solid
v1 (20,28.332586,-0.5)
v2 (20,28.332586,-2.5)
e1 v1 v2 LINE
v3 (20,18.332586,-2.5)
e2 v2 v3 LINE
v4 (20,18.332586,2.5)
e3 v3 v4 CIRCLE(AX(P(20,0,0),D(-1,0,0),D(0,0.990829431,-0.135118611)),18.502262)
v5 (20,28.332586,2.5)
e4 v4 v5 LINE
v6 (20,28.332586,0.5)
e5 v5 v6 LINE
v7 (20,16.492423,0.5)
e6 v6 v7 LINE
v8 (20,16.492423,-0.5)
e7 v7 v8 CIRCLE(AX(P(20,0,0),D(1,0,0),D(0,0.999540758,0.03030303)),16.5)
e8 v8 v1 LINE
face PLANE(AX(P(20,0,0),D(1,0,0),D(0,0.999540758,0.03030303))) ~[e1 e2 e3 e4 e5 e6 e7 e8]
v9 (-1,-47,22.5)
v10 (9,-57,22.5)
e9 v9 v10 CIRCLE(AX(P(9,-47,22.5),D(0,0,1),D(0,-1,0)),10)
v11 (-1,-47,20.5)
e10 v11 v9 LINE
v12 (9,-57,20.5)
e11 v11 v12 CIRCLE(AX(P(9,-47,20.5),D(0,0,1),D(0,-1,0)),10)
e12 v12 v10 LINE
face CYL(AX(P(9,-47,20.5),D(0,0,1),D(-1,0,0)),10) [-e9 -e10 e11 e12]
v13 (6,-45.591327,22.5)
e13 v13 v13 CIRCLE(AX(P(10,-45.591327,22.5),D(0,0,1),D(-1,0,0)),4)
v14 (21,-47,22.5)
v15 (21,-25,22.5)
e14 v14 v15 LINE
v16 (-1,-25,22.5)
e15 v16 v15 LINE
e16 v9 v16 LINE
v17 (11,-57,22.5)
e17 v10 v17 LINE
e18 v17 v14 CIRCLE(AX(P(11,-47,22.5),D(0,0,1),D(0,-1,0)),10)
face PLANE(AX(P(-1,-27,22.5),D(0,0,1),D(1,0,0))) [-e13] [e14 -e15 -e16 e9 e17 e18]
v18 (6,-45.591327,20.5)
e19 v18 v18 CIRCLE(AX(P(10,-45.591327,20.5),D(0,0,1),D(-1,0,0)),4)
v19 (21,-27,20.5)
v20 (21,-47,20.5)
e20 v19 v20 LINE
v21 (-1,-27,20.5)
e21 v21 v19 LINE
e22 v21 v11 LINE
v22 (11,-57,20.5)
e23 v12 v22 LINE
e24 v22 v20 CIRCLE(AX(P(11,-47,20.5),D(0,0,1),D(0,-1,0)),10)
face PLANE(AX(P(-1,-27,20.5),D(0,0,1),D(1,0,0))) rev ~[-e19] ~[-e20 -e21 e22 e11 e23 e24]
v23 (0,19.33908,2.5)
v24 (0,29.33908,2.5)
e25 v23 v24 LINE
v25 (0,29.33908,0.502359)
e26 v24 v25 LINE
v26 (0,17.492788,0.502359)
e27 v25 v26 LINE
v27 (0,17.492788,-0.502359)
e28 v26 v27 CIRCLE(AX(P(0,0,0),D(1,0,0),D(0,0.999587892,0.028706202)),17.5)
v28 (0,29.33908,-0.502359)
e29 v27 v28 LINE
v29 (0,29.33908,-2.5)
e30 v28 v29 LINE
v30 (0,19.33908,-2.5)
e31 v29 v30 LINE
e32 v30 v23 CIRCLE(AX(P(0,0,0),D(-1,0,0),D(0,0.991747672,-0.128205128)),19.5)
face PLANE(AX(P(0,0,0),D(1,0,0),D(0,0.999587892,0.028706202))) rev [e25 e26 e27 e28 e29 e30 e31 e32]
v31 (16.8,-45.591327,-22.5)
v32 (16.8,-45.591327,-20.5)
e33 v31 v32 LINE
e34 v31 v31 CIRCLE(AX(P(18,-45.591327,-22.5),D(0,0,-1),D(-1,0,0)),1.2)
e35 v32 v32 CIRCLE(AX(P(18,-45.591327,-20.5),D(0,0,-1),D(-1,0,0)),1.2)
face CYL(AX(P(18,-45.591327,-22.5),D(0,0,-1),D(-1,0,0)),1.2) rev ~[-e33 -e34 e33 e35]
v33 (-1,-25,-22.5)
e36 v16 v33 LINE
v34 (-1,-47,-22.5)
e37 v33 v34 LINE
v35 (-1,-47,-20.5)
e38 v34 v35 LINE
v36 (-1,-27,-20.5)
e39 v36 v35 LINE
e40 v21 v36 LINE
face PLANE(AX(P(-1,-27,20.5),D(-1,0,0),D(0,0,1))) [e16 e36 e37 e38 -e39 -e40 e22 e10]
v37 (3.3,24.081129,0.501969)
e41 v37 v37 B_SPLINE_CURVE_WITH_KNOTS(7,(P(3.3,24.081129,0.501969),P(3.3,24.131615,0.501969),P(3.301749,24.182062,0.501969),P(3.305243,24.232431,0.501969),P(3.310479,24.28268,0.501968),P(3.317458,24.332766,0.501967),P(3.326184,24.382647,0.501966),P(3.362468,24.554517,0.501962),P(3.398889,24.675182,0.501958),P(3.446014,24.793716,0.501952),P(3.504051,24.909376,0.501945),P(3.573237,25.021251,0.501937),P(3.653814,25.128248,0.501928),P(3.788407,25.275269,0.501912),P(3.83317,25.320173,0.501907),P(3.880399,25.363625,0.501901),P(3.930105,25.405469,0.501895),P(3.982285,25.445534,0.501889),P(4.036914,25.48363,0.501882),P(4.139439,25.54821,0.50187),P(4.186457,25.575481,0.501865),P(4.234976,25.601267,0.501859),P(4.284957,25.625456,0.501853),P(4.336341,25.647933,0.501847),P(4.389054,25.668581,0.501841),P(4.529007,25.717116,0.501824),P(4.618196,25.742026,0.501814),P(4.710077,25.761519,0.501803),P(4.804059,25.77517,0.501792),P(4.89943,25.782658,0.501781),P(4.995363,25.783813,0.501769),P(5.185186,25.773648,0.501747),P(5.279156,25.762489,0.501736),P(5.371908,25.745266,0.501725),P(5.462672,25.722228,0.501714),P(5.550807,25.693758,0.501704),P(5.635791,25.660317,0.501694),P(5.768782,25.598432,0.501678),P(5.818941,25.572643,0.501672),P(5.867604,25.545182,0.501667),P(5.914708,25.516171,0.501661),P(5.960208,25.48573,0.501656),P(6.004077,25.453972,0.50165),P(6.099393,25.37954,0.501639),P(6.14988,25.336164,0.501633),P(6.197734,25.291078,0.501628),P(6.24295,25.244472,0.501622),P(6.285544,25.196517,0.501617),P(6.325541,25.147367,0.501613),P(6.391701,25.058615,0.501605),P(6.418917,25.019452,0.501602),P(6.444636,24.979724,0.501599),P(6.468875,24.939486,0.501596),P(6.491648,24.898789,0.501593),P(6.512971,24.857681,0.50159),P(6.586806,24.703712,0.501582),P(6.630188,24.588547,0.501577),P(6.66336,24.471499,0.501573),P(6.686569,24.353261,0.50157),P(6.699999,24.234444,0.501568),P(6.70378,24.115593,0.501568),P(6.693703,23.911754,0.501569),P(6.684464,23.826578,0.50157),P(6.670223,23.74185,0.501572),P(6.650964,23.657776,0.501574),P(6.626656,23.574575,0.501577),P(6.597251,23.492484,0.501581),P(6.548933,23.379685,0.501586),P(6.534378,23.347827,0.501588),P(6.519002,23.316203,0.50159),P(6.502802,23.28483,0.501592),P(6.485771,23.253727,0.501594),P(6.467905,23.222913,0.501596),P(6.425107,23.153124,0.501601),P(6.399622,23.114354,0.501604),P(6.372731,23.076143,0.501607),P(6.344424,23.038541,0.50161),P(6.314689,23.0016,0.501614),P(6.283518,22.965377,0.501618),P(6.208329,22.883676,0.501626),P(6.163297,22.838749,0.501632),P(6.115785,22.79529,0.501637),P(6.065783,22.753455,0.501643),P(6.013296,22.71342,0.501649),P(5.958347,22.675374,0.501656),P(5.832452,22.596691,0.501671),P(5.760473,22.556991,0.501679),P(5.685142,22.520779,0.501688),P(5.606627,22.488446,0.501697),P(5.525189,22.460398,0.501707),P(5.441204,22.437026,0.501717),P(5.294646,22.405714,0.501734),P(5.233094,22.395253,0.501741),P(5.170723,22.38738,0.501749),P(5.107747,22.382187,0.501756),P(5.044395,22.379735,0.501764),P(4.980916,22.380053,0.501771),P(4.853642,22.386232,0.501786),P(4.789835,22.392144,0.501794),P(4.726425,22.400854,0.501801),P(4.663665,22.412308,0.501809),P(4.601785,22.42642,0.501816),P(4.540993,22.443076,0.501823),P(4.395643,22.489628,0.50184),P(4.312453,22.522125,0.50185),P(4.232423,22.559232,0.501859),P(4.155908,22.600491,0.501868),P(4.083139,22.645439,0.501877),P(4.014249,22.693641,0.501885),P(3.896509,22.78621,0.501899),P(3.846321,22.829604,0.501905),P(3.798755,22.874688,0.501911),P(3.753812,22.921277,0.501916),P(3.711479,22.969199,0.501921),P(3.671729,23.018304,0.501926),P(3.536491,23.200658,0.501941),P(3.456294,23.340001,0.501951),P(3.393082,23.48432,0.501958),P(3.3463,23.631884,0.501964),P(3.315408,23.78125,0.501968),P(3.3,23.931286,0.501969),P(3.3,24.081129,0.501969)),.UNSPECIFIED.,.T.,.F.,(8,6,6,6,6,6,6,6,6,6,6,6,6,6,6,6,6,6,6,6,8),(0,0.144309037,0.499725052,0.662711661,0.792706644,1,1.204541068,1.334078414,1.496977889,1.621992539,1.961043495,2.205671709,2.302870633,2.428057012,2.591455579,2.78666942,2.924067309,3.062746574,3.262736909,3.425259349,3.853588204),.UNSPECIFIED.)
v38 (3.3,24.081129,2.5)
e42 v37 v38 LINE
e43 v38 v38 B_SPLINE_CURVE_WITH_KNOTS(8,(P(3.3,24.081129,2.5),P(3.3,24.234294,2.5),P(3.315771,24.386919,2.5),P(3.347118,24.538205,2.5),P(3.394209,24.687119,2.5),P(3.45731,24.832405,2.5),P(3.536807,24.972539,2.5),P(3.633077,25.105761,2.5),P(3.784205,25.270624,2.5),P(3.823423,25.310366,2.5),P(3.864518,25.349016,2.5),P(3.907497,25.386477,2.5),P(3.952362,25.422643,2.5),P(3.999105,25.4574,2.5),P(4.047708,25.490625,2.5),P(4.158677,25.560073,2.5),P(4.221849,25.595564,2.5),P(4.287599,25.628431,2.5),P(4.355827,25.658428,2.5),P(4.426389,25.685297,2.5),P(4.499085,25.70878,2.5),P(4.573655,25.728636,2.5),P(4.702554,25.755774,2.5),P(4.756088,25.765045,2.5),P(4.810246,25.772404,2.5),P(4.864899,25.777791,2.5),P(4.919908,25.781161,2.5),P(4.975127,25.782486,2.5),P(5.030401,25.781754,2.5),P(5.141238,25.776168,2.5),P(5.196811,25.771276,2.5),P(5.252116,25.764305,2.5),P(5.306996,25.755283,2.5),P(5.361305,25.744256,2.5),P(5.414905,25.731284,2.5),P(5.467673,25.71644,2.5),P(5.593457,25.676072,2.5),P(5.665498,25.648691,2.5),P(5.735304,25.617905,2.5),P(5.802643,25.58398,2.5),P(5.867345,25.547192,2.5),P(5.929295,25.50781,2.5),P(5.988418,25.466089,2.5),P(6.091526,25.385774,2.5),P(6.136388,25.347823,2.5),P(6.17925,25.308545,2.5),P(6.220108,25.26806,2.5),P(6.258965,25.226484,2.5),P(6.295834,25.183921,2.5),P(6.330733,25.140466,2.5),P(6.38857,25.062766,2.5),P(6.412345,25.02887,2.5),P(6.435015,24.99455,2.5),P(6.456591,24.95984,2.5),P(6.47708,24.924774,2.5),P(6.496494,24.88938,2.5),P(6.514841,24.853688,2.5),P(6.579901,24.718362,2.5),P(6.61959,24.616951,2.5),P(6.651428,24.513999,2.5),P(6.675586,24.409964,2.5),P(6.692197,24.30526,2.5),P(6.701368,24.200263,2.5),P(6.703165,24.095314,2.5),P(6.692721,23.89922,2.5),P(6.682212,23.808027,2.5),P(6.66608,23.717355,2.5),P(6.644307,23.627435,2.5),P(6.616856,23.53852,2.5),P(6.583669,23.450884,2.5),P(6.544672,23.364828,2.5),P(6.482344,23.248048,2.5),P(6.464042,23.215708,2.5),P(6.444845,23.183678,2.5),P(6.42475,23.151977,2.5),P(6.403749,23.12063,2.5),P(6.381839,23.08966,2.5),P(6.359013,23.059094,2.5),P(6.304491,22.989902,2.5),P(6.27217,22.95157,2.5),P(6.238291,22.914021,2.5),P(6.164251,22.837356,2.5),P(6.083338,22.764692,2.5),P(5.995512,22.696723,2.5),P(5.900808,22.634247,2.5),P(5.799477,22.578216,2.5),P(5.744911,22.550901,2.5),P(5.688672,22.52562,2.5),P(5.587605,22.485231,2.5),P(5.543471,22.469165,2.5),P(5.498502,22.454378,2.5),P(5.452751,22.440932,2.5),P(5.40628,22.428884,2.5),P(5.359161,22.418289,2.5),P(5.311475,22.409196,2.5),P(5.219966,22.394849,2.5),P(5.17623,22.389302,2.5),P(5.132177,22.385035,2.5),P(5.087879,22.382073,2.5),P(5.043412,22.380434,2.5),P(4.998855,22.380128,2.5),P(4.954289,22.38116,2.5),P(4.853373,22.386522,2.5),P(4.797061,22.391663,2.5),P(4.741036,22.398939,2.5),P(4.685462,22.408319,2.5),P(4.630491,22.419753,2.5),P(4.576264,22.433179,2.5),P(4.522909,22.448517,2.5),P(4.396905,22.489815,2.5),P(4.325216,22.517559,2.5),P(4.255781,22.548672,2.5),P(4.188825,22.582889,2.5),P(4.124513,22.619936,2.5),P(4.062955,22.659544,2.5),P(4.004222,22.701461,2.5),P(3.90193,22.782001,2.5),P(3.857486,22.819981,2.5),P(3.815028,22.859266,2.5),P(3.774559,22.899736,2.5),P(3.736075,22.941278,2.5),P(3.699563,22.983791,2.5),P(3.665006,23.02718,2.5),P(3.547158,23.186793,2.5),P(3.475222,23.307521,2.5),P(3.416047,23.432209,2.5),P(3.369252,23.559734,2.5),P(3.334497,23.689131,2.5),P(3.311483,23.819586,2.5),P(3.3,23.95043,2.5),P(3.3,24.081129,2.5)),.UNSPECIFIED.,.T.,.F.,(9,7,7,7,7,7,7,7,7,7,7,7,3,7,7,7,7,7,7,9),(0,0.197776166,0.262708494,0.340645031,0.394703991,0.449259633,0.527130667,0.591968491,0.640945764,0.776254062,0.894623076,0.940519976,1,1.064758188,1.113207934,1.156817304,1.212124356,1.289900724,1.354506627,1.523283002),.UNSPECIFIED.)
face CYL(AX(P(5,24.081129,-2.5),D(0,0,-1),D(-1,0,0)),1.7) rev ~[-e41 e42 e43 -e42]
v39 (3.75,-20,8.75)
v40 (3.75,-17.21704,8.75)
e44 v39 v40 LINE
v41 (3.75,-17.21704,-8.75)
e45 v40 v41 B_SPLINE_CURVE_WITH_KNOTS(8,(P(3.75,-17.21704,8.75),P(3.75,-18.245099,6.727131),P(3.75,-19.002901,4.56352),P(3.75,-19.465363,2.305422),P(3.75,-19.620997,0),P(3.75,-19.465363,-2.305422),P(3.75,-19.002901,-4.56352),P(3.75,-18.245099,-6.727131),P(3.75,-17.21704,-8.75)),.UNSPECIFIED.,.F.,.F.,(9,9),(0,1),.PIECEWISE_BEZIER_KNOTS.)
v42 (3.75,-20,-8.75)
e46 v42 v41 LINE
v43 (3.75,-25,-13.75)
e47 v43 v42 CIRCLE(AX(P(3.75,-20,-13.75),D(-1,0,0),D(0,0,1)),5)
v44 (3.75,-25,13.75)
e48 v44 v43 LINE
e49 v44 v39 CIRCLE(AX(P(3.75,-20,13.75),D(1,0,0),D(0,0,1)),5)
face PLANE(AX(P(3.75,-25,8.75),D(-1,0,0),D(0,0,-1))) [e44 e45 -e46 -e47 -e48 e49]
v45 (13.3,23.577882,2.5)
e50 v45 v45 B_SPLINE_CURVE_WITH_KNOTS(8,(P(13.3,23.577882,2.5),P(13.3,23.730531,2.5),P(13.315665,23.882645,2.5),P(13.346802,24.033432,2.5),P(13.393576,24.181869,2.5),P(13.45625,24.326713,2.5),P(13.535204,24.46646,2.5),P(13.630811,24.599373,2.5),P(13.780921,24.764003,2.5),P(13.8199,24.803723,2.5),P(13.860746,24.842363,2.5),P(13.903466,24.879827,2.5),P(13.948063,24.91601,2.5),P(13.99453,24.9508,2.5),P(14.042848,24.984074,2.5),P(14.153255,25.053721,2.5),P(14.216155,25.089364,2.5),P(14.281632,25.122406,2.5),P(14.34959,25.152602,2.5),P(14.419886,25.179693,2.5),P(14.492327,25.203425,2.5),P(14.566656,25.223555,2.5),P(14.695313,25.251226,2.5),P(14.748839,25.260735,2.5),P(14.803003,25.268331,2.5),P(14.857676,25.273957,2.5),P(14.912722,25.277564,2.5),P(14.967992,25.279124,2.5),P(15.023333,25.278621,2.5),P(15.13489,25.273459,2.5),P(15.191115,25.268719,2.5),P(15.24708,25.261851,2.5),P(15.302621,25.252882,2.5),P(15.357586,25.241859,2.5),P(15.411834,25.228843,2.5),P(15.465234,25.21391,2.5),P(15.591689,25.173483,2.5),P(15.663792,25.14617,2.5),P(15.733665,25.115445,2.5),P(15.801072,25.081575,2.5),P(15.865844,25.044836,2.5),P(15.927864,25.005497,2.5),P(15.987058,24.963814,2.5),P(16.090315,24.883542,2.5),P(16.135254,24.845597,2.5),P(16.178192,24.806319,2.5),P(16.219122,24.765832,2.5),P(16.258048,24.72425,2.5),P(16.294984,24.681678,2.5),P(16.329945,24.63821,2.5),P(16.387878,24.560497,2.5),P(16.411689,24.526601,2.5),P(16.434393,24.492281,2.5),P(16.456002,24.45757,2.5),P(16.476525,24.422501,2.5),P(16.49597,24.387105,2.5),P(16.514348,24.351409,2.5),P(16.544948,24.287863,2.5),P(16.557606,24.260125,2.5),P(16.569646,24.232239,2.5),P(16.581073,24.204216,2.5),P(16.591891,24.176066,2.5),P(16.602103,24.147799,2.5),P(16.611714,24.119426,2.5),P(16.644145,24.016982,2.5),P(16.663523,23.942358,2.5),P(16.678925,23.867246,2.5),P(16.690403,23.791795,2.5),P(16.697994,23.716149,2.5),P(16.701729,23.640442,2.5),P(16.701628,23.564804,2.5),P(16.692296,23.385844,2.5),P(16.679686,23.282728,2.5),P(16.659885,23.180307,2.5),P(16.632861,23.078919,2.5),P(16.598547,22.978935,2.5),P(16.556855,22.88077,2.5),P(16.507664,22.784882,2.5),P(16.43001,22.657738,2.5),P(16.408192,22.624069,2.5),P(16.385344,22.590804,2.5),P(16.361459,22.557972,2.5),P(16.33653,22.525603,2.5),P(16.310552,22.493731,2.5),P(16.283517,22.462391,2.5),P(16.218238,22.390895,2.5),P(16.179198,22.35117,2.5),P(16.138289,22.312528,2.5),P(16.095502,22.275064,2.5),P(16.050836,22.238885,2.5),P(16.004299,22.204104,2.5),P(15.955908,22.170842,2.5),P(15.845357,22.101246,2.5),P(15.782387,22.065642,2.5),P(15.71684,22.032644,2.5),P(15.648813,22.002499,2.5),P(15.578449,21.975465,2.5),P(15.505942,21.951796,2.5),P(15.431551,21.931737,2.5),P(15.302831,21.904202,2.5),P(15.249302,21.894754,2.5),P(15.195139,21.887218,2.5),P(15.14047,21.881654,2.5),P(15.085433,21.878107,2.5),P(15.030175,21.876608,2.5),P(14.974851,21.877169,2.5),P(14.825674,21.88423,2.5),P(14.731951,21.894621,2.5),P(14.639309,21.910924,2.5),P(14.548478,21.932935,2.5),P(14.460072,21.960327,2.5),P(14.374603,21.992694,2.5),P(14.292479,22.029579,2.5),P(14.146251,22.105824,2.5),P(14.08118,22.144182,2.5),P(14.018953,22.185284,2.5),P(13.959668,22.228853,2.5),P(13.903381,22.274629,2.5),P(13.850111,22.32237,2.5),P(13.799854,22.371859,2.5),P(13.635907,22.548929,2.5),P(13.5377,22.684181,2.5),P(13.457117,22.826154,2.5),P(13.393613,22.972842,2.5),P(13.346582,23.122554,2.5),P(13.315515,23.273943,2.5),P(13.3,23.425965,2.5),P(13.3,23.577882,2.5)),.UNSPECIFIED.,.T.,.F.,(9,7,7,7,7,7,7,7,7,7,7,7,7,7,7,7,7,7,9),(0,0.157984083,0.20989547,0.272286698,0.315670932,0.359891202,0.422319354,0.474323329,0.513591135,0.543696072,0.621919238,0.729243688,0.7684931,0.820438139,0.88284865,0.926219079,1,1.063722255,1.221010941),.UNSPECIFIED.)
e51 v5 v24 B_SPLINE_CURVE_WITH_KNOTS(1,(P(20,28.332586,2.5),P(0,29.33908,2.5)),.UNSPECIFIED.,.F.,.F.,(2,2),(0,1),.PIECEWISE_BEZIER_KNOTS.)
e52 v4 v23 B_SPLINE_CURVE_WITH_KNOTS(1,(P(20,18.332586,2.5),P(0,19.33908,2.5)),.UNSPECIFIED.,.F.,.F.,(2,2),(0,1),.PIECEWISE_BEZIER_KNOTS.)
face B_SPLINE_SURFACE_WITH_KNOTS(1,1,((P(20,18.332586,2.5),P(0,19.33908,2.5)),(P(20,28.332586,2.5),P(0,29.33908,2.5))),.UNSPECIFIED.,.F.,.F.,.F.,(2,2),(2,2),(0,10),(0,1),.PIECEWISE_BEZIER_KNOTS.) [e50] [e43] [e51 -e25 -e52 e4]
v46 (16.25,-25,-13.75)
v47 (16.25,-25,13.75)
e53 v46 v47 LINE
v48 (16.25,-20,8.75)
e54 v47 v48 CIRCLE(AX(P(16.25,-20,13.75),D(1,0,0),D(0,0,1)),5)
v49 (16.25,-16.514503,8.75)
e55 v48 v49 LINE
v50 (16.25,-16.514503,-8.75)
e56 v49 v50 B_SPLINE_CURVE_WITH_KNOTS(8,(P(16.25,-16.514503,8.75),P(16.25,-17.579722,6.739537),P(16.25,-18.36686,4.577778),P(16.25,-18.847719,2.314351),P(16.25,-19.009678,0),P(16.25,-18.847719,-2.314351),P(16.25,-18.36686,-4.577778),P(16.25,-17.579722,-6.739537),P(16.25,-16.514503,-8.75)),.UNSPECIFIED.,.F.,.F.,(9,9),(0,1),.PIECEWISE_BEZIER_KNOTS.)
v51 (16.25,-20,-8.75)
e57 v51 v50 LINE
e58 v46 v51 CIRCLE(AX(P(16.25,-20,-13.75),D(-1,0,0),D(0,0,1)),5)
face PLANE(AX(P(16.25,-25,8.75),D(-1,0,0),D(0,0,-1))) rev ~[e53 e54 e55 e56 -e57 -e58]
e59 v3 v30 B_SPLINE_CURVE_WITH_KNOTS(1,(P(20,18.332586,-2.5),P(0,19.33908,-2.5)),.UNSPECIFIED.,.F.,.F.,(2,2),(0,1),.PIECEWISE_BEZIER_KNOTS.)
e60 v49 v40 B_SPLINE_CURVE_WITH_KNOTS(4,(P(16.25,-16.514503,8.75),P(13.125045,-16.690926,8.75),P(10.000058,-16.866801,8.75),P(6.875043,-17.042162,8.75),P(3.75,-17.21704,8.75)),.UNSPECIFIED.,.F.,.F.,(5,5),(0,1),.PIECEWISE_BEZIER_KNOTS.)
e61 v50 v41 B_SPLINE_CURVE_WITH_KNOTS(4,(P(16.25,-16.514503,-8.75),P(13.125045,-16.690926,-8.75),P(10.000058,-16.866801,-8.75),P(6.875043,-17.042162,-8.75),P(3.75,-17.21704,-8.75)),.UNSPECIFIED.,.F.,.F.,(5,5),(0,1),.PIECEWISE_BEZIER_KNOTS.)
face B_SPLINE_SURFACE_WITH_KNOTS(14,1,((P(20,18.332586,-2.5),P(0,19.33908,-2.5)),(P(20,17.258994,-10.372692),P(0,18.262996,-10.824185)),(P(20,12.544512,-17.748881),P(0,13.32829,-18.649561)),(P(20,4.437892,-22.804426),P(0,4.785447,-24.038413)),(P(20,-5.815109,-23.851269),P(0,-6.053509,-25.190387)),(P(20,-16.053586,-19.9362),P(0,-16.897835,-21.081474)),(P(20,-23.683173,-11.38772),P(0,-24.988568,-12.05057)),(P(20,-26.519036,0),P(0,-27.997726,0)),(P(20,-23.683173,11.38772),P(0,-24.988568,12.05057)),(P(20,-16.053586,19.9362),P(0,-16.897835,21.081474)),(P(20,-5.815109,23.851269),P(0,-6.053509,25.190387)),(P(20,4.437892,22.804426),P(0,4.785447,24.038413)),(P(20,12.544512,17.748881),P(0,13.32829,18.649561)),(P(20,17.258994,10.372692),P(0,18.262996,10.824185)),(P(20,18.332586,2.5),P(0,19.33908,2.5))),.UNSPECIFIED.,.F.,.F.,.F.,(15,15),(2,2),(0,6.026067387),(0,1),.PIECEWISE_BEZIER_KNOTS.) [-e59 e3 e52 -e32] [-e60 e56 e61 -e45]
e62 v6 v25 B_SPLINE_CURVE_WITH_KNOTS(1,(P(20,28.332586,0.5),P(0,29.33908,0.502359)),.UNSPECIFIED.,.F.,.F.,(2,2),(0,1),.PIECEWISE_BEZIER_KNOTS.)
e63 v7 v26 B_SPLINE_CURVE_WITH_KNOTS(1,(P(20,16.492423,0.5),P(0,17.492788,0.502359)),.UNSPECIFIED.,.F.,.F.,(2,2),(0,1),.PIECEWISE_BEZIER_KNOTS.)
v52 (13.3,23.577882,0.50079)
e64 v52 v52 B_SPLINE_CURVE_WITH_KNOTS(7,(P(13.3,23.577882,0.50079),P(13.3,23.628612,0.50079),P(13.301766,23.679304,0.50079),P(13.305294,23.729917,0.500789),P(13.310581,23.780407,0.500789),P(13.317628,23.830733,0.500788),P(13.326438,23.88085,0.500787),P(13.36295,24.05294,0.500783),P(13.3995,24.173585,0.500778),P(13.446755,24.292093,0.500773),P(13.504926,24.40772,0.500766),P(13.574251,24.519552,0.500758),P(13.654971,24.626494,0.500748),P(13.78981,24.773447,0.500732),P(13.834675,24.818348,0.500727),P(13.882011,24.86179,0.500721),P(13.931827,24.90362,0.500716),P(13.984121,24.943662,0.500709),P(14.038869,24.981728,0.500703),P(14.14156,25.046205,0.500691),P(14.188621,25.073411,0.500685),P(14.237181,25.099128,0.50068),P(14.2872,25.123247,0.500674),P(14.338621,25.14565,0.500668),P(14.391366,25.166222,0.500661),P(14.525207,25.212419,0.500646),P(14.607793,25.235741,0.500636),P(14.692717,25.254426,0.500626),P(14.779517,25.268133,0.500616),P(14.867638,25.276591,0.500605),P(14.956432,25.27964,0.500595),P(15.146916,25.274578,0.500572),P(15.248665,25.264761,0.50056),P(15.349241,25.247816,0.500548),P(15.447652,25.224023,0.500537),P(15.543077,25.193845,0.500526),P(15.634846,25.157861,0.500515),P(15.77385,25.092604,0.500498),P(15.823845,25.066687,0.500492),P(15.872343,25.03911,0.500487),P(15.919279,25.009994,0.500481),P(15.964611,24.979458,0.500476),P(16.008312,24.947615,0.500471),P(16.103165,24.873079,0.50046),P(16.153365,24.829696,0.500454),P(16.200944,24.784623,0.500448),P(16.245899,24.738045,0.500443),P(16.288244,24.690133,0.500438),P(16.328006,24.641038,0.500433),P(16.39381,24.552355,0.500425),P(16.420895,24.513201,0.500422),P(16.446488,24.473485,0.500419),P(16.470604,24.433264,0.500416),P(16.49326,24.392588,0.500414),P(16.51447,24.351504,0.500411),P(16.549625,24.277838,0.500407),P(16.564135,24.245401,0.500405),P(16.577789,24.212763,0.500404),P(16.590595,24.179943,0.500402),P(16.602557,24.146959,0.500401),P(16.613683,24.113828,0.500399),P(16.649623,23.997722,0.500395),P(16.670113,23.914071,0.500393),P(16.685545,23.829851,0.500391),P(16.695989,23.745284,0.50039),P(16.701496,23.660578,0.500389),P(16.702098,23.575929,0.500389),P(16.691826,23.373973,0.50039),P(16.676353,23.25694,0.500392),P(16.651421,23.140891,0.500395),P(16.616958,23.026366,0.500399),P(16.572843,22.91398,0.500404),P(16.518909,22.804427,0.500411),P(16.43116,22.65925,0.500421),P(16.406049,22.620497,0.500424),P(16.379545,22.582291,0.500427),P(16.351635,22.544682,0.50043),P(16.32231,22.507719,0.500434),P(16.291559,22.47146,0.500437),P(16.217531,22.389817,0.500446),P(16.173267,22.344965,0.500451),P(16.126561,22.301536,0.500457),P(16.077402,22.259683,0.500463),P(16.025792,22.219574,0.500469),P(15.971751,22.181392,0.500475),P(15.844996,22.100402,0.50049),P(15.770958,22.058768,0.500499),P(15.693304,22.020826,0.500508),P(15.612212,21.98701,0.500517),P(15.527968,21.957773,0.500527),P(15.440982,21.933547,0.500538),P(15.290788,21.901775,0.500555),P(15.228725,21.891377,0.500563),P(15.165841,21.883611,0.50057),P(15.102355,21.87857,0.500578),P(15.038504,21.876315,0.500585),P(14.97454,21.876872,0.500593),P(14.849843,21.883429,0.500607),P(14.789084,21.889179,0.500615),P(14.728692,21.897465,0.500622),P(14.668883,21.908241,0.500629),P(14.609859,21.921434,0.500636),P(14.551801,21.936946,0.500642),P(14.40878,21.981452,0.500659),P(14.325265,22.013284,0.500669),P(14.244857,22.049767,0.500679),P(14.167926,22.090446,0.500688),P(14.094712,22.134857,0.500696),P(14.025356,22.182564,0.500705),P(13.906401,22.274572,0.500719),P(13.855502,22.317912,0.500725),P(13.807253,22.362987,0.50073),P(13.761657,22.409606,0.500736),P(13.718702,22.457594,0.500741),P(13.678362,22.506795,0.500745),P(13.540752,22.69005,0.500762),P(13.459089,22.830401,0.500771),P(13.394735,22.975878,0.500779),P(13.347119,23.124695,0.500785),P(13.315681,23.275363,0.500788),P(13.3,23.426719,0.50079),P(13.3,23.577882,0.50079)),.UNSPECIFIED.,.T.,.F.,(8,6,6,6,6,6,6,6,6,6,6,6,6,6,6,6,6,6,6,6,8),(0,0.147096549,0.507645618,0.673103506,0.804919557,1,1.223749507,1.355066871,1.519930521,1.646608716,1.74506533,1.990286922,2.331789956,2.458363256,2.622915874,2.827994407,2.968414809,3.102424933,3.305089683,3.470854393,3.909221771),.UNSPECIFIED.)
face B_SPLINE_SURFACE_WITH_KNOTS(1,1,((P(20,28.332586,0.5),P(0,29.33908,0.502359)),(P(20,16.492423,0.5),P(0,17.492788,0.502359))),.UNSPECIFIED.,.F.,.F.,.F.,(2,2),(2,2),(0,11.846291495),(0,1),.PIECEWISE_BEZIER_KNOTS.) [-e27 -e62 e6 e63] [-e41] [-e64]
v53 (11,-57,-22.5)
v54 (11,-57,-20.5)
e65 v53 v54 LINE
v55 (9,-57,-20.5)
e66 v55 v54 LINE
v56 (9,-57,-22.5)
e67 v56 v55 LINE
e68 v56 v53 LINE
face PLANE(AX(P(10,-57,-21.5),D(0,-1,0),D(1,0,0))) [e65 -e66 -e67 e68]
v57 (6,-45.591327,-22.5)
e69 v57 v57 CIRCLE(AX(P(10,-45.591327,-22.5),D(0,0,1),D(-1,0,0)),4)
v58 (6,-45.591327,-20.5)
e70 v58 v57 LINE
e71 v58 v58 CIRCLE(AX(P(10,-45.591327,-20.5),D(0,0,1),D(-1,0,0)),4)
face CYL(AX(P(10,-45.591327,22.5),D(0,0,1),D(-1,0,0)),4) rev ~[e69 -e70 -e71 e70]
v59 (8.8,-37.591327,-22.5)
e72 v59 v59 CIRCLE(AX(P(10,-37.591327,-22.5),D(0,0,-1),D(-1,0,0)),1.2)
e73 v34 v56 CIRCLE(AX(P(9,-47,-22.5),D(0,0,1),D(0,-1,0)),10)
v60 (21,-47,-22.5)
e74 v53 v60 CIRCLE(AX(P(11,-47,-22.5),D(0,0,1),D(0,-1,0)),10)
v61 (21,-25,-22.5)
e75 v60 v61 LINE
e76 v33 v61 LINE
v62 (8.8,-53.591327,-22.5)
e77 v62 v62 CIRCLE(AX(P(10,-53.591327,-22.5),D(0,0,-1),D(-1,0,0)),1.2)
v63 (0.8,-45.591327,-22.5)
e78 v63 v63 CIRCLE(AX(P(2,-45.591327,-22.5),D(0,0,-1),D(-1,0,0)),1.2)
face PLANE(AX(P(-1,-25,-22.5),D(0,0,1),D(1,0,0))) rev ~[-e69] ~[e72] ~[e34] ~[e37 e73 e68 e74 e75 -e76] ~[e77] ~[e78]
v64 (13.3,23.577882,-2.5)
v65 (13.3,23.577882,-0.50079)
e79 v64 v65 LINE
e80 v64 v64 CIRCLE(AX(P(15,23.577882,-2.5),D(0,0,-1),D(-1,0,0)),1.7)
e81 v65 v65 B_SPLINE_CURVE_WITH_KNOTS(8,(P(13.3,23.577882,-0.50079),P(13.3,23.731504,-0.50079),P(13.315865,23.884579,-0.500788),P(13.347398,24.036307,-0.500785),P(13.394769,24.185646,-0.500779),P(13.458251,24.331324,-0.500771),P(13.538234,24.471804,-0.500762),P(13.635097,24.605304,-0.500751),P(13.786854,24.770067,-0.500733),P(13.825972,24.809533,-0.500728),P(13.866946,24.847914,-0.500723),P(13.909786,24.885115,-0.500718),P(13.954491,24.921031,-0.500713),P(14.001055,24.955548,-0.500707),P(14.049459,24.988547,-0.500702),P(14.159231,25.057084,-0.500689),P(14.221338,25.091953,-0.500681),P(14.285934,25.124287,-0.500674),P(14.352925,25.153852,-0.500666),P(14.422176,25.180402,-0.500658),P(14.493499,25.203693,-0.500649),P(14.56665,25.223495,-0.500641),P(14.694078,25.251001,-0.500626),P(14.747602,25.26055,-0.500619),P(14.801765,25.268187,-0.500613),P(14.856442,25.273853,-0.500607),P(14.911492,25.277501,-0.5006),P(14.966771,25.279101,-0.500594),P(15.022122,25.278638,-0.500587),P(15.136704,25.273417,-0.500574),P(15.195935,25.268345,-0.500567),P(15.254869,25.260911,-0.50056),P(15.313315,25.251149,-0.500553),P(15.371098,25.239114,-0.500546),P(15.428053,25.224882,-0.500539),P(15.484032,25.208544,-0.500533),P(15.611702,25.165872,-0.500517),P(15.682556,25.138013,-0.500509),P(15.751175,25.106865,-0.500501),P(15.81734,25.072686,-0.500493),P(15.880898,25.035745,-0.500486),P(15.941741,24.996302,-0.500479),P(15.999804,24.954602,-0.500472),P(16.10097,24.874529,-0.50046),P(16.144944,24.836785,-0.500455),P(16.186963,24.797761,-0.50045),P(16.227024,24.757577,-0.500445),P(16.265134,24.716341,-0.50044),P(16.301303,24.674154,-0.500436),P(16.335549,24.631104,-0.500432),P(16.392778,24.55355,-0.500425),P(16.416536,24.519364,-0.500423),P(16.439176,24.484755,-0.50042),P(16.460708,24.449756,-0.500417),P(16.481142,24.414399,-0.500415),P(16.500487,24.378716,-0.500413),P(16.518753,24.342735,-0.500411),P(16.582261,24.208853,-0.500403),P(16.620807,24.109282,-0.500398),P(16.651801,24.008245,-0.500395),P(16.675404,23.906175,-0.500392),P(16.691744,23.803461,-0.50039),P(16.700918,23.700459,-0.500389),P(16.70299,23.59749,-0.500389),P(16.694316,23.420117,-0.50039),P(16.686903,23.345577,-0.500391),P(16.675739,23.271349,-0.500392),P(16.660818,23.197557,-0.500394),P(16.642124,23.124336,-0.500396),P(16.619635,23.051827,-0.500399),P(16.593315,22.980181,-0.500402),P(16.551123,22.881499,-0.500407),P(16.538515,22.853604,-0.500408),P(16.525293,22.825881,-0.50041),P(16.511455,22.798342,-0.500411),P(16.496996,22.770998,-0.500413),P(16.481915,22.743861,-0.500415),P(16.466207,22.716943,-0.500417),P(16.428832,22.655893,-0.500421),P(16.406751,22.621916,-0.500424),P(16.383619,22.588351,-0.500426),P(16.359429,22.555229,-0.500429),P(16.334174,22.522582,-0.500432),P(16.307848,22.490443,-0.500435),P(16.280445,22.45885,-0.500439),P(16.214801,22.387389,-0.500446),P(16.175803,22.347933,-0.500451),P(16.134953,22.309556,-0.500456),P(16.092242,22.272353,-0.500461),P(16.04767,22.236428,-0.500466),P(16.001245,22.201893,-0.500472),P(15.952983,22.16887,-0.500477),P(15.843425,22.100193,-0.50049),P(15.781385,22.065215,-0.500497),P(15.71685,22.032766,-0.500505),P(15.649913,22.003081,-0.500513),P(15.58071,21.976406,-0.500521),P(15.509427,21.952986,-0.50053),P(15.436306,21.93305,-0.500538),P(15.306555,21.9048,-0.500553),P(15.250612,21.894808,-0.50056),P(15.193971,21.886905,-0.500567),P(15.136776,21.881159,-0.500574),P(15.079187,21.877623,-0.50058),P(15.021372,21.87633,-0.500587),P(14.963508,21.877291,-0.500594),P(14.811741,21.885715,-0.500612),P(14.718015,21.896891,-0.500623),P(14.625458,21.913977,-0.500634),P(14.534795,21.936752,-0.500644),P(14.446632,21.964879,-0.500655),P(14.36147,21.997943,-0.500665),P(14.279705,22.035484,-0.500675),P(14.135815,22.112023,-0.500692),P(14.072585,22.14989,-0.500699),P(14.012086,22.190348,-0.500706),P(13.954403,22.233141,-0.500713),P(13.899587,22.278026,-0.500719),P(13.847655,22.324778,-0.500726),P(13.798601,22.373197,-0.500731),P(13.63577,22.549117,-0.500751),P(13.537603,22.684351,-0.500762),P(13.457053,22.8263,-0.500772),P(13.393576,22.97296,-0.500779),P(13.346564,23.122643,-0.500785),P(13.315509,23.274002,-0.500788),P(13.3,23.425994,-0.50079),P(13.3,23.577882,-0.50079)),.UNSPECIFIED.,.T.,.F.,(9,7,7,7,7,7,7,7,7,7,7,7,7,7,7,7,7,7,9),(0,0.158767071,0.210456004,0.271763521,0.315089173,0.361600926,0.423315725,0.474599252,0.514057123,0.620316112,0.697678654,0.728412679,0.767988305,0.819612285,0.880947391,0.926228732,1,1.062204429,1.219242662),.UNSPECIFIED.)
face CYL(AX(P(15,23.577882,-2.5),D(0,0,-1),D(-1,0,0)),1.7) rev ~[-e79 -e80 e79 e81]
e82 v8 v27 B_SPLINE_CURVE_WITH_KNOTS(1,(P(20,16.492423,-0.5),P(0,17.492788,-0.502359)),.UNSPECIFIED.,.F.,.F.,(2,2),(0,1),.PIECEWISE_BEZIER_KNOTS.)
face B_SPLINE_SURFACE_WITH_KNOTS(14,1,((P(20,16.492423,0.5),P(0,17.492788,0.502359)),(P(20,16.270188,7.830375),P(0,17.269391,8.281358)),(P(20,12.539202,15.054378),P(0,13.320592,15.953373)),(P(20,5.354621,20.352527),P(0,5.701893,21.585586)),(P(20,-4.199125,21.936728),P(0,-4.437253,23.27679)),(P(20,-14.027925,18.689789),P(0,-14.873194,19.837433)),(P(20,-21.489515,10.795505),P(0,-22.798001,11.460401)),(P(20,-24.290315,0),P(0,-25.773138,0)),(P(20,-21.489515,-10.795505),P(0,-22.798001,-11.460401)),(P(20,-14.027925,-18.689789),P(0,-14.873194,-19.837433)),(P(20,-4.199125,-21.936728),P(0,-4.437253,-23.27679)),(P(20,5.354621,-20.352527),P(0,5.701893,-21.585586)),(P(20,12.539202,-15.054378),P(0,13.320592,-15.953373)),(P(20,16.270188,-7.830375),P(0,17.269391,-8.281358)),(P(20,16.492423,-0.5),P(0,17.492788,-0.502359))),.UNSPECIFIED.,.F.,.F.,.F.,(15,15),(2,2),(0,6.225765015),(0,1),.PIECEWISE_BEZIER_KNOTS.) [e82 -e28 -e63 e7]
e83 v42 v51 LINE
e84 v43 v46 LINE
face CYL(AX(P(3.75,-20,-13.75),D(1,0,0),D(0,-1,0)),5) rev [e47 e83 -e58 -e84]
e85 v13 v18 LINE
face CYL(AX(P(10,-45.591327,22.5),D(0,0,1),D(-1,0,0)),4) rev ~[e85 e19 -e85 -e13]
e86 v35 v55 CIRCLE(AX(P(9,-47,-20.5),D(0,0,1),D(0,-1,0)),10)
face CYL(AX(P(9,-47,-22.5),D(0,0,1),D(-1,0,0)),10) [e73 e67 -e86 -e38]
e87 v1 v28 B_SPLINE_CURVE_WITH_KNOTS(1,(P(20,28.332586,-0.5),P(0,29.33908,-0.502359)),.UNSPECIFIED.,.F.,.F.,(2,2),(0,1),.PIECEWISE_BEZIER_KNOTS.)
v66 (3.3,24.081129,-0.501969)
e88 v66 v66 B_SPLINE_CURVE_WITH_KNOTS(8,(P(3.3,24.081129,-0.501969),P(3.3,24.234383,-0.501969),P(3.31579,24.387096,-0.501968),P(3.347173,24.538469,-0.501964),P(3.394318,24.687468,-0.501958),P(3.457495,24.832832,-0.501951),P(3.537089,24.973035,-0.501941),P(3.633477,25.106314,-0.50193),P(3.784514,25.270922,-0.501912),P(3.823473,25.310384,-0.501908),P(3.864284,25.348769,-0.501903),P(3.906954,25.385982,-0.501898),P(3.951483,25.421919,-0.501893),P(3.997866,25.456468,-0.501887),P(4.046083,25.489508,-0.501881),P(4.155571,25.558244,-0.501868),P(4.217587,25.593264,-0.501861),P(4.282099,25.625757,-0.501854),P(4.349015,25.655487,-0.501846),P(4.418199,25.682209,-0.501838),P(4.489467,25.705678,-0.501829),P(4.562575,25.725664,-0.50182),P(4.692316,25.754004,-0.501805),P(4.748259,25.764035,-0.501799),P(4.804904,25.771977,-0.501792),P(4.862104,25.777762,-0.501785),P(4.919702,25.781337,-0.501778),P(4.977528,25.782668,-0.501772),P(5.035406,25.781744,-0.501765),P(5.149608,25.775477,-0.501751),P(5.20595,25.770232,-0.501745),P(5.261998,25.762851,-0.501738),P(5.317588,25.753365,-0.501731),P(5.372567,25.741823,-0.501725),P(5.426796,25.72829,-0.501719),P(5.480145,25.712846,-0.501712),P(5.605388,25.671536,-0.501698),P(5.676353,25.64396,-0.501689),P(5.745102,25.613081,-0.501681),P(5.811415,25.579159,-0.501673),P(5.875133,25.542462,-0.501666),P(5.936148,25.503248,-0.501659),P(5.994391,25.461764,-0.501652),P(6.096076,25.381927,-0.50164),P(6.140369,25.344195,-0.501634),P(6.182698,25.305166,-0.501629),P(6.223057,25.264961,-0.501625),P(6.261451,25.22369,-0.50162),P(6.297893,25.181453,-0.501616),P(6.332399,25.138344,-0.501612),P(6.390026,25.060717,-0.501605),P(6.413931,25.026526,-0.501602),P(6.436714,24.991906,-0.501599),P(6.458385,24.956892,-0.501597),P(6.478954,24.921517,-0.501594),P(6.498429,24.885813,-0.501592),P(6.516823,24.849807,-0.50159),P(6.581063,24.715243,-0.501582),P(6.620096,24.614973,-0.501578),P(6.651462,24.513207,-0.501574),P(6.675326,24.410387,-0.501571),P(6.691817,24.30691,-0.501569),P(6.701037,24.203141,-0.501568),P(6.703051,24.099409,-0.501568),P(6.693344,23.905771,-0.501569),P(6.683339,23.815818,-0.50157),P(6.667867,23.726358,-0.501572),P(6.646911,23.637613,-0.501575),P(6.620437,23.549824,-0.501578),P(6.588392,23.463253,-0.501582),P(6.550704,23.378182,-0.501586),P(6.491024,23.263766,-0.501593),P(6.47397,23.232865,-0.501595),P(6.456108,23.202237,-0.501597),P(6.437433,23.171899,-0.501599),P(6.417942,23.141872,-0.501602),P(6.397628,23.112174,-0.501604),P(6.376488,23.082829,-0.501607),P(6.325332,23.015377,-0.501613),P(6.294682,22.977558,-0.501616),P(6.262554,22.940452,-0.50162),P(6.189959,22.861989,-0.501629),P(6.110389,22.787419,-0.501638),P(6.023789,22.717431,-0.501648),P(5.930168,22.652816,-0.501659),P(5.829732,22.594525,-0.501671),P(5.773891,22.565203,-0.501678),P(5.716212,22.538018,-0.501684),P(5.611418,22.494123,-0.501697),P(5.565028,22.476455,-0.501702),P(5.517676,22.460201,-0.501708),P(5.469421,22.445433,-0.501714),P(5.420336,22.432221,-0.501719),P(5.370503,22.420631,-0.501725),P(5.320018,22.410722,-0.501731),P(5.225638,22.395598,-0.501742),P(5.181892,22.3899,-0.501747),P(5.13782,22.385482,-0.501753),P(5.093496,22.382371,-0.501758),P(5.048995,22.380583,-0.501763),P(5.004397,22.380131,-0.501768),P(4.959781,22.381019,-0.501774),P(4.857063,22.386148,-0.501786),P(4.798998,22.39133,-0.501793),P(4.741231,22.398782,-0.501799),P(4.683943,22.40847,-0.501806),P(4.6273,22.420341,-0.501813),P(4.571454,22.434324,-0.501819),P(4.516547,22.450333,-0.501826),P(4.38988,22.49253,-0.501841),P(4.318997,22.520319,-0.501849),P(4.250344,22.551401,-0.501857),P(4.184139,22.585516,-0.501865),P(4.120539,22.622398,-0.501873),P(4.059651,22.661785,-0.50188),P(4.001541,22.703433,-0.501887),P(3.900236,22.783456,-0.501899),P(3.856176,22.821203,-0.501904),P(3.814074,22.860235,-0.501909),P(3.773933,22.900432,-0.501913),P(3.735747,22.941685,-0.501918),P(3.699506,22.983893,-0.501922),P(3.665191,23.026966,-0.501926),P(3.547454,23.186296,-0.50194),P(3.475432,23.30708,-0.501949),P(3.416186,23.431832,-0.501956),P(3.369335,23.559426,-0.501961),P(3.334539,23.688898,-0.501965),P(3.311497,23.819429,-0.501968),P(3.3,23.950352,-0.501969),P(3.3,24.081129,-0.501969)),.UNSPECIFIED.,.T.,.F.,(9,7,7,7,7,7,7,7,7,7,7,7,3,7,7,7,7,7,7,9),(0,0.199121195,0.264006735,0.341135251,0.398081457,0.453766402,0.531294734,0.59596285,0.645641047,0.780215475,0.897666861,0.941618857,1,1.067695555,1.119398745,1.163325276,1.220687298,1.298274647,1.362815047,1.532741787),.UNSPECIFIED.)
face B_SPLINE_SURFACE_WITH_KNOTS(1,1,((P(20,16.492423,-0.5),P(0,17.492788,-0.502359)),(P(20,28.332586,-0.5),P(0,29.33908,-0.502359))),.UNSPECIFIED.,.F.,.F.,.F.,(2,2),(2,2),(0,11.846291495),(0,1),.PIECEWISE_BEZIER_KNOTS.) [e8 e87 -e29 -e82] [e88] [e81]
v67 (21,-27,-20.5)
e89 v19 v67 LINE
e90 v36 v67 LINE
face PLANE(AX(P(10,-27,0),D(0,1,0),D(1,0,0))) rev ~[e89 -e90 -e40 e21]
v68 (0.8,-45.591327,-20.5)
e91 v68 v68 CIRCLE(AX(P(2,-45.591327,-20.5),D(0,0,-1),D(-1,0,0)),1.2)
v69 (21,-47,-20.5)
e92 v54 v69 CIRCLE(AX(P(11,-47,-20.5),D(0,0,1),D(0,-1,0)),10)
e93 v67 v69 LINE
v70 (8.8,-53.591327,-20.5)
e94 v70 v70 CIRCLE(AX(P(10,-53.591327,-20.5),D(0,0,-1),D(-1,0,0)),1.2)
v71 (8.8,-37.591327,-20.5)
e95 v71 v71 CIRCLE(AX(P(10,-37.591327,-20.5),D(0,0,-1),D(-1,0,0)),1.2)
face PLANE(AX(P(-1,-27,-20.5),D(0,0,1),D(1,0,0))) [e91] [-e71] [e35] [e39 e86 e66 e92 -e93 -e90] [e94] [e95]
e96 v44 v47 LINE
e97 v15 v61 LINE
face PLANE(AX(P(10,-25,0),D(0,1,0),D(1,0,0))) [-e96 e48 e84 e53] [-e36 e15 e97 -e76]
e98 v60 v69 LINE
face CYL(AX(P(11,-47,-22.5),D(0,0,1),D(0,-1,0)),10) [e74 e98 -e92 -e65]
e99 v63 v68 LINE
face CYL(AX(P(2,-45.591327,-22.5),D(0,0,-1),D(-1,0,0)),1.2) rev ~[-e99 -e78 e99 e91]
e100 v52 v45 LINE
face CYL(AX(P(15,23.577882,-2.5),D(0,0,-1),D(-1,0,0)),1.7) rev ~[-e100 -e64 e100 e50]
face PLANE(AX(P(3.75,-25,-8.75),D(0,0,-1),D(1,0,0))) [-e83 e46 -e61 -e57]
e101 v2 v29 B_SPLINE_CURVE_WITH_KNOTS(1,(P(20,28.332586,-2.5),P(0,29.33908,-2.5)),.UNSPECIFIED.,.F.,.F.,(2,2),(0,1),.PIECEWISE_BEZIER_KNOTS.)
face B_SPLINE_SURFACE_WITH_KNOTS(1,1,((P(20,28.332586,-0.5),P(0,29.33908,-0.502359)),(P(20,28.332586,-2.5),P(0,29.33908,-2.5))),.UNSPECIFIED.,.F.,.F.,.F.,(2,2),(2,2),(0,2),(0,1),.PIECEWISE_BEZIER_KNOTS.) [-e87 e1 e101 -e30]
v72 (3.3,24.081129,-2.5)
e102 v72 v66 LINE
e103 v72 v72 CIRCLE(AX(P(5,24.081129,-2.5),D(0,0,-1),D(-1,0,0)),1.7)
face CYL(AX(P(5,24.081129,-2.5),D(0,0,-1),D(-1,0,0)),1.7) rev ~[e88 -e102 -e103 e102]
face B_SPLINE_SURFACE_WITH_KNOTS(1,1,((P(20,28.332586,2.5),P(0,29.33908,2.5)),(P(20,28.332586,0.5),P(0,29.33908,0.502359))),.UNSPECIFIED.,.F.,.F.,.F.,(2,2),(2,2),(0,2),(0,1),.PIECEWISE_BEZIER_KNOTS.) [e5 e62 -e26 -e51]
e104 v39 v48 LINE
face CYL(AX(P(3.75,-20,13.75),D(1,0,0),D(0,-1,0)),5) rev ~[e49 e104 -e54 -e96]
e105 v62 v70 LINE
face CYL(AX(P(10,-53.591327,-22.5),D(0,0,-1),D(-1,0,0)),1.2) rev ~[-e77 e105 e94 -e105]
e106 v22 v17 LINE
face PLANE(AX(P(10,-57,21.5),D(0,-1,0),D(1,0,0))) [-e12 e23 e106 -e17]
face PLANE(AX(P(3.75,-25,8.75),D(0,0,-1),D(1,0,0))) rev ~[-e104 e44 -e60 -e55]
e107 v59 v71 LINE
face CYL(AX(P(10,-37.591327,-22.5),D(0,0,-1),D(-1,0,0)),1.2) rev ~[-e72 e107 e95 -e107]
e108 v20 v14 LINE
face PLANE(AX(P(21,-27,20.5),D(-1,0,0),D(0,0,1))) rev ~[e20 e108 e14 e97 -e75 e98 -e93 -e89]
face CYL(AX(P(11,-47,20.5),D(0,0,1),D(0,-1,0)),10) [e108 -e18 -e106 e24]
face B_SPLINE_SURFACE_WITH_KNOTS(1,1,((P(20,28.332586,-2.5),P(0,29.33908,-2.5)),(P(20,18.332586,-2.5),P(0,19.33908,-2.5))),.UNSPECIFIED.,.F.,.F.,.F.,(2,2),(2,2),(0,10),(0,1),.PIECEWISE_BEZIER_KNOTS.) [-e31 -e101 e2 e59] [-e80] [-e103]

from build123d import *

# Parameters (mm, degrees)
SKETCH3_R           = 1.7
CUT_EXTRUDE1_DEPTH  = 10
SKETCH4_W           = 22
SKETCH4_H           = 45
BOSS_EXTRUDE1_DEPTH = 2
BOSS_EXTRUDE3_REACH = 64.45
SKETCH6_W           = 12.5
SKETCH6_H           = 17.5
SKETCH7_W           = 22
SKETCH7_H           = 2
BOSS_EXTRUDE4_DEPTH = 30
SKETCH8_R           = 4
CUT_EXTRUDE2_DEPTH  = 76.59761901
SKETCH9_R           = 1.2
CUT_EXTRUDE3_DEPTH  = 30
FILLET1_R           = 10
FILLET2_R           = 5


with BuildPart() as part:
    # Sketch2 → Loft1 section 0
    with BuildSketch(Plane(origin=(20, 0, 0), x_dir=(0, 0, -1), z_dir=(1, 0, 0))):
        with BuildLine():
            Line((-2.5, 18.332586185), (-2.5, 28.332586185))
            Line((-2.5, 28.332586185), (-0.5, 28.332586185))
            Line((-0.5, 28.332586185), (-0.5, 16.492422502))
            ThreePointArc((-0.5, 16.492422502), (0, -16.5), (0.5, 16.492422502))
            Line((0.5, 16.492422502), (0.5, 28.332586185))
            Line((0.5, 28.332586185), (2.5, 28.332586185))
            Line((2.5, 28.332586185), (2.5, 18.332586185))
            ThreePointArc((2.5, 18.332586185), (0, -18.502262463), (-2.5, 18.332586185))
        make_face()
    # Sketch1 → Loft1 section 1
    with BuildSketch(Plane(origin=(0, 0, 0), x_dir=(0, 0, -1), z_dir=(1, 0, 0))):
        with BuildLine():
            Line((-2.5, 19.339079606), (-2.5, 29.339079606))
            Line((-2.5, 29.339079606), (-0.502358537, 29.339079606))
            Line((-0.502358537, 29.339079606), (-0.502358537, 17.492788111))
            ThreePointArc((-0.502358537, 17.492788111), (0, -17.5), (0.502358537, 17.492788111))
            Line((0.502358537, 17.492788111), (0.502358537, 29.339079606))
            Line((0.502358537, 29.339079606), (2.5, 29.339079606))
            Line((2.5, 29.339079606), (2.5, 19.339079606))
            ThreePointArc((2.5, 19.339079606), (0, -19.5), (-2.5, 19.339079606))
        make_face()
    loft()

    # Sketch3 → Cut-Extrude1 (cut)
    with BuildSketch(Plane(origin=(0, 0, -2.5), x_dir=(-1, 0, 0), z_dir=(0, 0, -1))):
        with Locations((-15, 23.577882113)):
            Circle(SKETCH3_R)
        with Locations((-5, 24.081128823)):
            Circle(SKETCH3_R)
    extrude(amount=-CUT_EXTRUDE1_DEPTH, mode=Mode.SUBTRACT)

    # Sketch6 → Boss-Extrude3 (add, up to next)
    with BuildSketch(Plane(origin=(0, -25, 0), x_dir=(1, 0, 0), z_dir=(0, 1, 0)), mode=Mode.PRIVATE) as boss_extrude3_sk1:
        with Locations((10, 0)):
            Rectangle(SKETCH6_W, SKETCH6_H)
    boss_extrude3_tool1 = extrude(boss_extrude3_sk1.sketch, amount=BOSS_EXTRUDE3_REACH, mode=Mode.PRIVATE) - part.part


with BuildPart() as body_2:
    # Sketch4 → Boss-Extrude1 (new body)
    with BuildSketch(Plane(origin=(0, -25, 0), x_dir=(1, 0, 0), z_dir=(0, 1, 0))):
        with Locations((10, 0)):
            Rectangle(SKETCH4_W, SKETCH4_H)
    extrude(amount=-BOSS_EXTRUDE1_DEPTH)


with BuildPart() as part_1:
    add(part.part)

    add(body_2.part)  # Boss-Extrude3 merges body 2
    add(boss_extrude3_tool1.solids().sort_by_distance((10, -25, 0))[0])

    # Sketch7 → Boss-Extrude4 (add)
    with BuildSketch(Plane.XZ.offset(27)):
        with Locations((10, 21.5)):
            Rectangle(SKETCH7_W, SKETCH7_H)
        with Locations((10, -21.5)):
            Rectangle(SKETCH7_W, SKETCH7_H)
    extrude(amount=BOSS_EXTRUDE4_DEPTH)

    # Sketch8 → Cut-Extrude2 (cut, through all)
    with BuildSketch(Plane.XY.offset(22.5)):
        with Locations(Location((10, -45.591327039, 0), (0, 0, 180))):
            Circle(SKETCH8_R)
    extrude(amount=-CUT_EXTRUDE2_DEPTH, mode=Mode.SUBTRACT)

    # Sketch9 → Cut-Extrude3 (cut)
    with BuildSketch(Plane(origin=(0, 0, -22.5), x_dir=(-1, 0, 0), z_dir=(0, 0, -1))):
        with Locations((-10, -37.591327039)):
            Circle(SKETCH9_R)
        with Locations((-2, -45.591327039)):
            Circle(SKETCH9_R)
        with Locations((-10, -53.591327039)):
            Circle(SKETCH9_R)
        with Locations((-18, -45.591327039)):
            Circle(SKETCH9_R)
    extrude(amount=-CUT_EXTRUDE3_DEPTH, mode=Mode.SUBTRACT)

    # Fillet1
    fillet1_edges = [part_1.edges().sort_by_distance(p)[0] for p in [
        (21, -57, -21.5),
        (-1, -57, 21.5),
        (21, -57, 21.5),
        (-1, -57, -21.5),
    ]]
    fillet(fillet1_edges, radius=FILLET1_R)

    # Fillet2
    fillet2_edges = [part_1.edges().sort_by_distance(p)[0] for p in [
        (10, -25, -8.75),
        (10, -25, 8.75),
    ]]
    fillet(fillet2_edges, radius=FILLET2_R)


solid = part_1.part
